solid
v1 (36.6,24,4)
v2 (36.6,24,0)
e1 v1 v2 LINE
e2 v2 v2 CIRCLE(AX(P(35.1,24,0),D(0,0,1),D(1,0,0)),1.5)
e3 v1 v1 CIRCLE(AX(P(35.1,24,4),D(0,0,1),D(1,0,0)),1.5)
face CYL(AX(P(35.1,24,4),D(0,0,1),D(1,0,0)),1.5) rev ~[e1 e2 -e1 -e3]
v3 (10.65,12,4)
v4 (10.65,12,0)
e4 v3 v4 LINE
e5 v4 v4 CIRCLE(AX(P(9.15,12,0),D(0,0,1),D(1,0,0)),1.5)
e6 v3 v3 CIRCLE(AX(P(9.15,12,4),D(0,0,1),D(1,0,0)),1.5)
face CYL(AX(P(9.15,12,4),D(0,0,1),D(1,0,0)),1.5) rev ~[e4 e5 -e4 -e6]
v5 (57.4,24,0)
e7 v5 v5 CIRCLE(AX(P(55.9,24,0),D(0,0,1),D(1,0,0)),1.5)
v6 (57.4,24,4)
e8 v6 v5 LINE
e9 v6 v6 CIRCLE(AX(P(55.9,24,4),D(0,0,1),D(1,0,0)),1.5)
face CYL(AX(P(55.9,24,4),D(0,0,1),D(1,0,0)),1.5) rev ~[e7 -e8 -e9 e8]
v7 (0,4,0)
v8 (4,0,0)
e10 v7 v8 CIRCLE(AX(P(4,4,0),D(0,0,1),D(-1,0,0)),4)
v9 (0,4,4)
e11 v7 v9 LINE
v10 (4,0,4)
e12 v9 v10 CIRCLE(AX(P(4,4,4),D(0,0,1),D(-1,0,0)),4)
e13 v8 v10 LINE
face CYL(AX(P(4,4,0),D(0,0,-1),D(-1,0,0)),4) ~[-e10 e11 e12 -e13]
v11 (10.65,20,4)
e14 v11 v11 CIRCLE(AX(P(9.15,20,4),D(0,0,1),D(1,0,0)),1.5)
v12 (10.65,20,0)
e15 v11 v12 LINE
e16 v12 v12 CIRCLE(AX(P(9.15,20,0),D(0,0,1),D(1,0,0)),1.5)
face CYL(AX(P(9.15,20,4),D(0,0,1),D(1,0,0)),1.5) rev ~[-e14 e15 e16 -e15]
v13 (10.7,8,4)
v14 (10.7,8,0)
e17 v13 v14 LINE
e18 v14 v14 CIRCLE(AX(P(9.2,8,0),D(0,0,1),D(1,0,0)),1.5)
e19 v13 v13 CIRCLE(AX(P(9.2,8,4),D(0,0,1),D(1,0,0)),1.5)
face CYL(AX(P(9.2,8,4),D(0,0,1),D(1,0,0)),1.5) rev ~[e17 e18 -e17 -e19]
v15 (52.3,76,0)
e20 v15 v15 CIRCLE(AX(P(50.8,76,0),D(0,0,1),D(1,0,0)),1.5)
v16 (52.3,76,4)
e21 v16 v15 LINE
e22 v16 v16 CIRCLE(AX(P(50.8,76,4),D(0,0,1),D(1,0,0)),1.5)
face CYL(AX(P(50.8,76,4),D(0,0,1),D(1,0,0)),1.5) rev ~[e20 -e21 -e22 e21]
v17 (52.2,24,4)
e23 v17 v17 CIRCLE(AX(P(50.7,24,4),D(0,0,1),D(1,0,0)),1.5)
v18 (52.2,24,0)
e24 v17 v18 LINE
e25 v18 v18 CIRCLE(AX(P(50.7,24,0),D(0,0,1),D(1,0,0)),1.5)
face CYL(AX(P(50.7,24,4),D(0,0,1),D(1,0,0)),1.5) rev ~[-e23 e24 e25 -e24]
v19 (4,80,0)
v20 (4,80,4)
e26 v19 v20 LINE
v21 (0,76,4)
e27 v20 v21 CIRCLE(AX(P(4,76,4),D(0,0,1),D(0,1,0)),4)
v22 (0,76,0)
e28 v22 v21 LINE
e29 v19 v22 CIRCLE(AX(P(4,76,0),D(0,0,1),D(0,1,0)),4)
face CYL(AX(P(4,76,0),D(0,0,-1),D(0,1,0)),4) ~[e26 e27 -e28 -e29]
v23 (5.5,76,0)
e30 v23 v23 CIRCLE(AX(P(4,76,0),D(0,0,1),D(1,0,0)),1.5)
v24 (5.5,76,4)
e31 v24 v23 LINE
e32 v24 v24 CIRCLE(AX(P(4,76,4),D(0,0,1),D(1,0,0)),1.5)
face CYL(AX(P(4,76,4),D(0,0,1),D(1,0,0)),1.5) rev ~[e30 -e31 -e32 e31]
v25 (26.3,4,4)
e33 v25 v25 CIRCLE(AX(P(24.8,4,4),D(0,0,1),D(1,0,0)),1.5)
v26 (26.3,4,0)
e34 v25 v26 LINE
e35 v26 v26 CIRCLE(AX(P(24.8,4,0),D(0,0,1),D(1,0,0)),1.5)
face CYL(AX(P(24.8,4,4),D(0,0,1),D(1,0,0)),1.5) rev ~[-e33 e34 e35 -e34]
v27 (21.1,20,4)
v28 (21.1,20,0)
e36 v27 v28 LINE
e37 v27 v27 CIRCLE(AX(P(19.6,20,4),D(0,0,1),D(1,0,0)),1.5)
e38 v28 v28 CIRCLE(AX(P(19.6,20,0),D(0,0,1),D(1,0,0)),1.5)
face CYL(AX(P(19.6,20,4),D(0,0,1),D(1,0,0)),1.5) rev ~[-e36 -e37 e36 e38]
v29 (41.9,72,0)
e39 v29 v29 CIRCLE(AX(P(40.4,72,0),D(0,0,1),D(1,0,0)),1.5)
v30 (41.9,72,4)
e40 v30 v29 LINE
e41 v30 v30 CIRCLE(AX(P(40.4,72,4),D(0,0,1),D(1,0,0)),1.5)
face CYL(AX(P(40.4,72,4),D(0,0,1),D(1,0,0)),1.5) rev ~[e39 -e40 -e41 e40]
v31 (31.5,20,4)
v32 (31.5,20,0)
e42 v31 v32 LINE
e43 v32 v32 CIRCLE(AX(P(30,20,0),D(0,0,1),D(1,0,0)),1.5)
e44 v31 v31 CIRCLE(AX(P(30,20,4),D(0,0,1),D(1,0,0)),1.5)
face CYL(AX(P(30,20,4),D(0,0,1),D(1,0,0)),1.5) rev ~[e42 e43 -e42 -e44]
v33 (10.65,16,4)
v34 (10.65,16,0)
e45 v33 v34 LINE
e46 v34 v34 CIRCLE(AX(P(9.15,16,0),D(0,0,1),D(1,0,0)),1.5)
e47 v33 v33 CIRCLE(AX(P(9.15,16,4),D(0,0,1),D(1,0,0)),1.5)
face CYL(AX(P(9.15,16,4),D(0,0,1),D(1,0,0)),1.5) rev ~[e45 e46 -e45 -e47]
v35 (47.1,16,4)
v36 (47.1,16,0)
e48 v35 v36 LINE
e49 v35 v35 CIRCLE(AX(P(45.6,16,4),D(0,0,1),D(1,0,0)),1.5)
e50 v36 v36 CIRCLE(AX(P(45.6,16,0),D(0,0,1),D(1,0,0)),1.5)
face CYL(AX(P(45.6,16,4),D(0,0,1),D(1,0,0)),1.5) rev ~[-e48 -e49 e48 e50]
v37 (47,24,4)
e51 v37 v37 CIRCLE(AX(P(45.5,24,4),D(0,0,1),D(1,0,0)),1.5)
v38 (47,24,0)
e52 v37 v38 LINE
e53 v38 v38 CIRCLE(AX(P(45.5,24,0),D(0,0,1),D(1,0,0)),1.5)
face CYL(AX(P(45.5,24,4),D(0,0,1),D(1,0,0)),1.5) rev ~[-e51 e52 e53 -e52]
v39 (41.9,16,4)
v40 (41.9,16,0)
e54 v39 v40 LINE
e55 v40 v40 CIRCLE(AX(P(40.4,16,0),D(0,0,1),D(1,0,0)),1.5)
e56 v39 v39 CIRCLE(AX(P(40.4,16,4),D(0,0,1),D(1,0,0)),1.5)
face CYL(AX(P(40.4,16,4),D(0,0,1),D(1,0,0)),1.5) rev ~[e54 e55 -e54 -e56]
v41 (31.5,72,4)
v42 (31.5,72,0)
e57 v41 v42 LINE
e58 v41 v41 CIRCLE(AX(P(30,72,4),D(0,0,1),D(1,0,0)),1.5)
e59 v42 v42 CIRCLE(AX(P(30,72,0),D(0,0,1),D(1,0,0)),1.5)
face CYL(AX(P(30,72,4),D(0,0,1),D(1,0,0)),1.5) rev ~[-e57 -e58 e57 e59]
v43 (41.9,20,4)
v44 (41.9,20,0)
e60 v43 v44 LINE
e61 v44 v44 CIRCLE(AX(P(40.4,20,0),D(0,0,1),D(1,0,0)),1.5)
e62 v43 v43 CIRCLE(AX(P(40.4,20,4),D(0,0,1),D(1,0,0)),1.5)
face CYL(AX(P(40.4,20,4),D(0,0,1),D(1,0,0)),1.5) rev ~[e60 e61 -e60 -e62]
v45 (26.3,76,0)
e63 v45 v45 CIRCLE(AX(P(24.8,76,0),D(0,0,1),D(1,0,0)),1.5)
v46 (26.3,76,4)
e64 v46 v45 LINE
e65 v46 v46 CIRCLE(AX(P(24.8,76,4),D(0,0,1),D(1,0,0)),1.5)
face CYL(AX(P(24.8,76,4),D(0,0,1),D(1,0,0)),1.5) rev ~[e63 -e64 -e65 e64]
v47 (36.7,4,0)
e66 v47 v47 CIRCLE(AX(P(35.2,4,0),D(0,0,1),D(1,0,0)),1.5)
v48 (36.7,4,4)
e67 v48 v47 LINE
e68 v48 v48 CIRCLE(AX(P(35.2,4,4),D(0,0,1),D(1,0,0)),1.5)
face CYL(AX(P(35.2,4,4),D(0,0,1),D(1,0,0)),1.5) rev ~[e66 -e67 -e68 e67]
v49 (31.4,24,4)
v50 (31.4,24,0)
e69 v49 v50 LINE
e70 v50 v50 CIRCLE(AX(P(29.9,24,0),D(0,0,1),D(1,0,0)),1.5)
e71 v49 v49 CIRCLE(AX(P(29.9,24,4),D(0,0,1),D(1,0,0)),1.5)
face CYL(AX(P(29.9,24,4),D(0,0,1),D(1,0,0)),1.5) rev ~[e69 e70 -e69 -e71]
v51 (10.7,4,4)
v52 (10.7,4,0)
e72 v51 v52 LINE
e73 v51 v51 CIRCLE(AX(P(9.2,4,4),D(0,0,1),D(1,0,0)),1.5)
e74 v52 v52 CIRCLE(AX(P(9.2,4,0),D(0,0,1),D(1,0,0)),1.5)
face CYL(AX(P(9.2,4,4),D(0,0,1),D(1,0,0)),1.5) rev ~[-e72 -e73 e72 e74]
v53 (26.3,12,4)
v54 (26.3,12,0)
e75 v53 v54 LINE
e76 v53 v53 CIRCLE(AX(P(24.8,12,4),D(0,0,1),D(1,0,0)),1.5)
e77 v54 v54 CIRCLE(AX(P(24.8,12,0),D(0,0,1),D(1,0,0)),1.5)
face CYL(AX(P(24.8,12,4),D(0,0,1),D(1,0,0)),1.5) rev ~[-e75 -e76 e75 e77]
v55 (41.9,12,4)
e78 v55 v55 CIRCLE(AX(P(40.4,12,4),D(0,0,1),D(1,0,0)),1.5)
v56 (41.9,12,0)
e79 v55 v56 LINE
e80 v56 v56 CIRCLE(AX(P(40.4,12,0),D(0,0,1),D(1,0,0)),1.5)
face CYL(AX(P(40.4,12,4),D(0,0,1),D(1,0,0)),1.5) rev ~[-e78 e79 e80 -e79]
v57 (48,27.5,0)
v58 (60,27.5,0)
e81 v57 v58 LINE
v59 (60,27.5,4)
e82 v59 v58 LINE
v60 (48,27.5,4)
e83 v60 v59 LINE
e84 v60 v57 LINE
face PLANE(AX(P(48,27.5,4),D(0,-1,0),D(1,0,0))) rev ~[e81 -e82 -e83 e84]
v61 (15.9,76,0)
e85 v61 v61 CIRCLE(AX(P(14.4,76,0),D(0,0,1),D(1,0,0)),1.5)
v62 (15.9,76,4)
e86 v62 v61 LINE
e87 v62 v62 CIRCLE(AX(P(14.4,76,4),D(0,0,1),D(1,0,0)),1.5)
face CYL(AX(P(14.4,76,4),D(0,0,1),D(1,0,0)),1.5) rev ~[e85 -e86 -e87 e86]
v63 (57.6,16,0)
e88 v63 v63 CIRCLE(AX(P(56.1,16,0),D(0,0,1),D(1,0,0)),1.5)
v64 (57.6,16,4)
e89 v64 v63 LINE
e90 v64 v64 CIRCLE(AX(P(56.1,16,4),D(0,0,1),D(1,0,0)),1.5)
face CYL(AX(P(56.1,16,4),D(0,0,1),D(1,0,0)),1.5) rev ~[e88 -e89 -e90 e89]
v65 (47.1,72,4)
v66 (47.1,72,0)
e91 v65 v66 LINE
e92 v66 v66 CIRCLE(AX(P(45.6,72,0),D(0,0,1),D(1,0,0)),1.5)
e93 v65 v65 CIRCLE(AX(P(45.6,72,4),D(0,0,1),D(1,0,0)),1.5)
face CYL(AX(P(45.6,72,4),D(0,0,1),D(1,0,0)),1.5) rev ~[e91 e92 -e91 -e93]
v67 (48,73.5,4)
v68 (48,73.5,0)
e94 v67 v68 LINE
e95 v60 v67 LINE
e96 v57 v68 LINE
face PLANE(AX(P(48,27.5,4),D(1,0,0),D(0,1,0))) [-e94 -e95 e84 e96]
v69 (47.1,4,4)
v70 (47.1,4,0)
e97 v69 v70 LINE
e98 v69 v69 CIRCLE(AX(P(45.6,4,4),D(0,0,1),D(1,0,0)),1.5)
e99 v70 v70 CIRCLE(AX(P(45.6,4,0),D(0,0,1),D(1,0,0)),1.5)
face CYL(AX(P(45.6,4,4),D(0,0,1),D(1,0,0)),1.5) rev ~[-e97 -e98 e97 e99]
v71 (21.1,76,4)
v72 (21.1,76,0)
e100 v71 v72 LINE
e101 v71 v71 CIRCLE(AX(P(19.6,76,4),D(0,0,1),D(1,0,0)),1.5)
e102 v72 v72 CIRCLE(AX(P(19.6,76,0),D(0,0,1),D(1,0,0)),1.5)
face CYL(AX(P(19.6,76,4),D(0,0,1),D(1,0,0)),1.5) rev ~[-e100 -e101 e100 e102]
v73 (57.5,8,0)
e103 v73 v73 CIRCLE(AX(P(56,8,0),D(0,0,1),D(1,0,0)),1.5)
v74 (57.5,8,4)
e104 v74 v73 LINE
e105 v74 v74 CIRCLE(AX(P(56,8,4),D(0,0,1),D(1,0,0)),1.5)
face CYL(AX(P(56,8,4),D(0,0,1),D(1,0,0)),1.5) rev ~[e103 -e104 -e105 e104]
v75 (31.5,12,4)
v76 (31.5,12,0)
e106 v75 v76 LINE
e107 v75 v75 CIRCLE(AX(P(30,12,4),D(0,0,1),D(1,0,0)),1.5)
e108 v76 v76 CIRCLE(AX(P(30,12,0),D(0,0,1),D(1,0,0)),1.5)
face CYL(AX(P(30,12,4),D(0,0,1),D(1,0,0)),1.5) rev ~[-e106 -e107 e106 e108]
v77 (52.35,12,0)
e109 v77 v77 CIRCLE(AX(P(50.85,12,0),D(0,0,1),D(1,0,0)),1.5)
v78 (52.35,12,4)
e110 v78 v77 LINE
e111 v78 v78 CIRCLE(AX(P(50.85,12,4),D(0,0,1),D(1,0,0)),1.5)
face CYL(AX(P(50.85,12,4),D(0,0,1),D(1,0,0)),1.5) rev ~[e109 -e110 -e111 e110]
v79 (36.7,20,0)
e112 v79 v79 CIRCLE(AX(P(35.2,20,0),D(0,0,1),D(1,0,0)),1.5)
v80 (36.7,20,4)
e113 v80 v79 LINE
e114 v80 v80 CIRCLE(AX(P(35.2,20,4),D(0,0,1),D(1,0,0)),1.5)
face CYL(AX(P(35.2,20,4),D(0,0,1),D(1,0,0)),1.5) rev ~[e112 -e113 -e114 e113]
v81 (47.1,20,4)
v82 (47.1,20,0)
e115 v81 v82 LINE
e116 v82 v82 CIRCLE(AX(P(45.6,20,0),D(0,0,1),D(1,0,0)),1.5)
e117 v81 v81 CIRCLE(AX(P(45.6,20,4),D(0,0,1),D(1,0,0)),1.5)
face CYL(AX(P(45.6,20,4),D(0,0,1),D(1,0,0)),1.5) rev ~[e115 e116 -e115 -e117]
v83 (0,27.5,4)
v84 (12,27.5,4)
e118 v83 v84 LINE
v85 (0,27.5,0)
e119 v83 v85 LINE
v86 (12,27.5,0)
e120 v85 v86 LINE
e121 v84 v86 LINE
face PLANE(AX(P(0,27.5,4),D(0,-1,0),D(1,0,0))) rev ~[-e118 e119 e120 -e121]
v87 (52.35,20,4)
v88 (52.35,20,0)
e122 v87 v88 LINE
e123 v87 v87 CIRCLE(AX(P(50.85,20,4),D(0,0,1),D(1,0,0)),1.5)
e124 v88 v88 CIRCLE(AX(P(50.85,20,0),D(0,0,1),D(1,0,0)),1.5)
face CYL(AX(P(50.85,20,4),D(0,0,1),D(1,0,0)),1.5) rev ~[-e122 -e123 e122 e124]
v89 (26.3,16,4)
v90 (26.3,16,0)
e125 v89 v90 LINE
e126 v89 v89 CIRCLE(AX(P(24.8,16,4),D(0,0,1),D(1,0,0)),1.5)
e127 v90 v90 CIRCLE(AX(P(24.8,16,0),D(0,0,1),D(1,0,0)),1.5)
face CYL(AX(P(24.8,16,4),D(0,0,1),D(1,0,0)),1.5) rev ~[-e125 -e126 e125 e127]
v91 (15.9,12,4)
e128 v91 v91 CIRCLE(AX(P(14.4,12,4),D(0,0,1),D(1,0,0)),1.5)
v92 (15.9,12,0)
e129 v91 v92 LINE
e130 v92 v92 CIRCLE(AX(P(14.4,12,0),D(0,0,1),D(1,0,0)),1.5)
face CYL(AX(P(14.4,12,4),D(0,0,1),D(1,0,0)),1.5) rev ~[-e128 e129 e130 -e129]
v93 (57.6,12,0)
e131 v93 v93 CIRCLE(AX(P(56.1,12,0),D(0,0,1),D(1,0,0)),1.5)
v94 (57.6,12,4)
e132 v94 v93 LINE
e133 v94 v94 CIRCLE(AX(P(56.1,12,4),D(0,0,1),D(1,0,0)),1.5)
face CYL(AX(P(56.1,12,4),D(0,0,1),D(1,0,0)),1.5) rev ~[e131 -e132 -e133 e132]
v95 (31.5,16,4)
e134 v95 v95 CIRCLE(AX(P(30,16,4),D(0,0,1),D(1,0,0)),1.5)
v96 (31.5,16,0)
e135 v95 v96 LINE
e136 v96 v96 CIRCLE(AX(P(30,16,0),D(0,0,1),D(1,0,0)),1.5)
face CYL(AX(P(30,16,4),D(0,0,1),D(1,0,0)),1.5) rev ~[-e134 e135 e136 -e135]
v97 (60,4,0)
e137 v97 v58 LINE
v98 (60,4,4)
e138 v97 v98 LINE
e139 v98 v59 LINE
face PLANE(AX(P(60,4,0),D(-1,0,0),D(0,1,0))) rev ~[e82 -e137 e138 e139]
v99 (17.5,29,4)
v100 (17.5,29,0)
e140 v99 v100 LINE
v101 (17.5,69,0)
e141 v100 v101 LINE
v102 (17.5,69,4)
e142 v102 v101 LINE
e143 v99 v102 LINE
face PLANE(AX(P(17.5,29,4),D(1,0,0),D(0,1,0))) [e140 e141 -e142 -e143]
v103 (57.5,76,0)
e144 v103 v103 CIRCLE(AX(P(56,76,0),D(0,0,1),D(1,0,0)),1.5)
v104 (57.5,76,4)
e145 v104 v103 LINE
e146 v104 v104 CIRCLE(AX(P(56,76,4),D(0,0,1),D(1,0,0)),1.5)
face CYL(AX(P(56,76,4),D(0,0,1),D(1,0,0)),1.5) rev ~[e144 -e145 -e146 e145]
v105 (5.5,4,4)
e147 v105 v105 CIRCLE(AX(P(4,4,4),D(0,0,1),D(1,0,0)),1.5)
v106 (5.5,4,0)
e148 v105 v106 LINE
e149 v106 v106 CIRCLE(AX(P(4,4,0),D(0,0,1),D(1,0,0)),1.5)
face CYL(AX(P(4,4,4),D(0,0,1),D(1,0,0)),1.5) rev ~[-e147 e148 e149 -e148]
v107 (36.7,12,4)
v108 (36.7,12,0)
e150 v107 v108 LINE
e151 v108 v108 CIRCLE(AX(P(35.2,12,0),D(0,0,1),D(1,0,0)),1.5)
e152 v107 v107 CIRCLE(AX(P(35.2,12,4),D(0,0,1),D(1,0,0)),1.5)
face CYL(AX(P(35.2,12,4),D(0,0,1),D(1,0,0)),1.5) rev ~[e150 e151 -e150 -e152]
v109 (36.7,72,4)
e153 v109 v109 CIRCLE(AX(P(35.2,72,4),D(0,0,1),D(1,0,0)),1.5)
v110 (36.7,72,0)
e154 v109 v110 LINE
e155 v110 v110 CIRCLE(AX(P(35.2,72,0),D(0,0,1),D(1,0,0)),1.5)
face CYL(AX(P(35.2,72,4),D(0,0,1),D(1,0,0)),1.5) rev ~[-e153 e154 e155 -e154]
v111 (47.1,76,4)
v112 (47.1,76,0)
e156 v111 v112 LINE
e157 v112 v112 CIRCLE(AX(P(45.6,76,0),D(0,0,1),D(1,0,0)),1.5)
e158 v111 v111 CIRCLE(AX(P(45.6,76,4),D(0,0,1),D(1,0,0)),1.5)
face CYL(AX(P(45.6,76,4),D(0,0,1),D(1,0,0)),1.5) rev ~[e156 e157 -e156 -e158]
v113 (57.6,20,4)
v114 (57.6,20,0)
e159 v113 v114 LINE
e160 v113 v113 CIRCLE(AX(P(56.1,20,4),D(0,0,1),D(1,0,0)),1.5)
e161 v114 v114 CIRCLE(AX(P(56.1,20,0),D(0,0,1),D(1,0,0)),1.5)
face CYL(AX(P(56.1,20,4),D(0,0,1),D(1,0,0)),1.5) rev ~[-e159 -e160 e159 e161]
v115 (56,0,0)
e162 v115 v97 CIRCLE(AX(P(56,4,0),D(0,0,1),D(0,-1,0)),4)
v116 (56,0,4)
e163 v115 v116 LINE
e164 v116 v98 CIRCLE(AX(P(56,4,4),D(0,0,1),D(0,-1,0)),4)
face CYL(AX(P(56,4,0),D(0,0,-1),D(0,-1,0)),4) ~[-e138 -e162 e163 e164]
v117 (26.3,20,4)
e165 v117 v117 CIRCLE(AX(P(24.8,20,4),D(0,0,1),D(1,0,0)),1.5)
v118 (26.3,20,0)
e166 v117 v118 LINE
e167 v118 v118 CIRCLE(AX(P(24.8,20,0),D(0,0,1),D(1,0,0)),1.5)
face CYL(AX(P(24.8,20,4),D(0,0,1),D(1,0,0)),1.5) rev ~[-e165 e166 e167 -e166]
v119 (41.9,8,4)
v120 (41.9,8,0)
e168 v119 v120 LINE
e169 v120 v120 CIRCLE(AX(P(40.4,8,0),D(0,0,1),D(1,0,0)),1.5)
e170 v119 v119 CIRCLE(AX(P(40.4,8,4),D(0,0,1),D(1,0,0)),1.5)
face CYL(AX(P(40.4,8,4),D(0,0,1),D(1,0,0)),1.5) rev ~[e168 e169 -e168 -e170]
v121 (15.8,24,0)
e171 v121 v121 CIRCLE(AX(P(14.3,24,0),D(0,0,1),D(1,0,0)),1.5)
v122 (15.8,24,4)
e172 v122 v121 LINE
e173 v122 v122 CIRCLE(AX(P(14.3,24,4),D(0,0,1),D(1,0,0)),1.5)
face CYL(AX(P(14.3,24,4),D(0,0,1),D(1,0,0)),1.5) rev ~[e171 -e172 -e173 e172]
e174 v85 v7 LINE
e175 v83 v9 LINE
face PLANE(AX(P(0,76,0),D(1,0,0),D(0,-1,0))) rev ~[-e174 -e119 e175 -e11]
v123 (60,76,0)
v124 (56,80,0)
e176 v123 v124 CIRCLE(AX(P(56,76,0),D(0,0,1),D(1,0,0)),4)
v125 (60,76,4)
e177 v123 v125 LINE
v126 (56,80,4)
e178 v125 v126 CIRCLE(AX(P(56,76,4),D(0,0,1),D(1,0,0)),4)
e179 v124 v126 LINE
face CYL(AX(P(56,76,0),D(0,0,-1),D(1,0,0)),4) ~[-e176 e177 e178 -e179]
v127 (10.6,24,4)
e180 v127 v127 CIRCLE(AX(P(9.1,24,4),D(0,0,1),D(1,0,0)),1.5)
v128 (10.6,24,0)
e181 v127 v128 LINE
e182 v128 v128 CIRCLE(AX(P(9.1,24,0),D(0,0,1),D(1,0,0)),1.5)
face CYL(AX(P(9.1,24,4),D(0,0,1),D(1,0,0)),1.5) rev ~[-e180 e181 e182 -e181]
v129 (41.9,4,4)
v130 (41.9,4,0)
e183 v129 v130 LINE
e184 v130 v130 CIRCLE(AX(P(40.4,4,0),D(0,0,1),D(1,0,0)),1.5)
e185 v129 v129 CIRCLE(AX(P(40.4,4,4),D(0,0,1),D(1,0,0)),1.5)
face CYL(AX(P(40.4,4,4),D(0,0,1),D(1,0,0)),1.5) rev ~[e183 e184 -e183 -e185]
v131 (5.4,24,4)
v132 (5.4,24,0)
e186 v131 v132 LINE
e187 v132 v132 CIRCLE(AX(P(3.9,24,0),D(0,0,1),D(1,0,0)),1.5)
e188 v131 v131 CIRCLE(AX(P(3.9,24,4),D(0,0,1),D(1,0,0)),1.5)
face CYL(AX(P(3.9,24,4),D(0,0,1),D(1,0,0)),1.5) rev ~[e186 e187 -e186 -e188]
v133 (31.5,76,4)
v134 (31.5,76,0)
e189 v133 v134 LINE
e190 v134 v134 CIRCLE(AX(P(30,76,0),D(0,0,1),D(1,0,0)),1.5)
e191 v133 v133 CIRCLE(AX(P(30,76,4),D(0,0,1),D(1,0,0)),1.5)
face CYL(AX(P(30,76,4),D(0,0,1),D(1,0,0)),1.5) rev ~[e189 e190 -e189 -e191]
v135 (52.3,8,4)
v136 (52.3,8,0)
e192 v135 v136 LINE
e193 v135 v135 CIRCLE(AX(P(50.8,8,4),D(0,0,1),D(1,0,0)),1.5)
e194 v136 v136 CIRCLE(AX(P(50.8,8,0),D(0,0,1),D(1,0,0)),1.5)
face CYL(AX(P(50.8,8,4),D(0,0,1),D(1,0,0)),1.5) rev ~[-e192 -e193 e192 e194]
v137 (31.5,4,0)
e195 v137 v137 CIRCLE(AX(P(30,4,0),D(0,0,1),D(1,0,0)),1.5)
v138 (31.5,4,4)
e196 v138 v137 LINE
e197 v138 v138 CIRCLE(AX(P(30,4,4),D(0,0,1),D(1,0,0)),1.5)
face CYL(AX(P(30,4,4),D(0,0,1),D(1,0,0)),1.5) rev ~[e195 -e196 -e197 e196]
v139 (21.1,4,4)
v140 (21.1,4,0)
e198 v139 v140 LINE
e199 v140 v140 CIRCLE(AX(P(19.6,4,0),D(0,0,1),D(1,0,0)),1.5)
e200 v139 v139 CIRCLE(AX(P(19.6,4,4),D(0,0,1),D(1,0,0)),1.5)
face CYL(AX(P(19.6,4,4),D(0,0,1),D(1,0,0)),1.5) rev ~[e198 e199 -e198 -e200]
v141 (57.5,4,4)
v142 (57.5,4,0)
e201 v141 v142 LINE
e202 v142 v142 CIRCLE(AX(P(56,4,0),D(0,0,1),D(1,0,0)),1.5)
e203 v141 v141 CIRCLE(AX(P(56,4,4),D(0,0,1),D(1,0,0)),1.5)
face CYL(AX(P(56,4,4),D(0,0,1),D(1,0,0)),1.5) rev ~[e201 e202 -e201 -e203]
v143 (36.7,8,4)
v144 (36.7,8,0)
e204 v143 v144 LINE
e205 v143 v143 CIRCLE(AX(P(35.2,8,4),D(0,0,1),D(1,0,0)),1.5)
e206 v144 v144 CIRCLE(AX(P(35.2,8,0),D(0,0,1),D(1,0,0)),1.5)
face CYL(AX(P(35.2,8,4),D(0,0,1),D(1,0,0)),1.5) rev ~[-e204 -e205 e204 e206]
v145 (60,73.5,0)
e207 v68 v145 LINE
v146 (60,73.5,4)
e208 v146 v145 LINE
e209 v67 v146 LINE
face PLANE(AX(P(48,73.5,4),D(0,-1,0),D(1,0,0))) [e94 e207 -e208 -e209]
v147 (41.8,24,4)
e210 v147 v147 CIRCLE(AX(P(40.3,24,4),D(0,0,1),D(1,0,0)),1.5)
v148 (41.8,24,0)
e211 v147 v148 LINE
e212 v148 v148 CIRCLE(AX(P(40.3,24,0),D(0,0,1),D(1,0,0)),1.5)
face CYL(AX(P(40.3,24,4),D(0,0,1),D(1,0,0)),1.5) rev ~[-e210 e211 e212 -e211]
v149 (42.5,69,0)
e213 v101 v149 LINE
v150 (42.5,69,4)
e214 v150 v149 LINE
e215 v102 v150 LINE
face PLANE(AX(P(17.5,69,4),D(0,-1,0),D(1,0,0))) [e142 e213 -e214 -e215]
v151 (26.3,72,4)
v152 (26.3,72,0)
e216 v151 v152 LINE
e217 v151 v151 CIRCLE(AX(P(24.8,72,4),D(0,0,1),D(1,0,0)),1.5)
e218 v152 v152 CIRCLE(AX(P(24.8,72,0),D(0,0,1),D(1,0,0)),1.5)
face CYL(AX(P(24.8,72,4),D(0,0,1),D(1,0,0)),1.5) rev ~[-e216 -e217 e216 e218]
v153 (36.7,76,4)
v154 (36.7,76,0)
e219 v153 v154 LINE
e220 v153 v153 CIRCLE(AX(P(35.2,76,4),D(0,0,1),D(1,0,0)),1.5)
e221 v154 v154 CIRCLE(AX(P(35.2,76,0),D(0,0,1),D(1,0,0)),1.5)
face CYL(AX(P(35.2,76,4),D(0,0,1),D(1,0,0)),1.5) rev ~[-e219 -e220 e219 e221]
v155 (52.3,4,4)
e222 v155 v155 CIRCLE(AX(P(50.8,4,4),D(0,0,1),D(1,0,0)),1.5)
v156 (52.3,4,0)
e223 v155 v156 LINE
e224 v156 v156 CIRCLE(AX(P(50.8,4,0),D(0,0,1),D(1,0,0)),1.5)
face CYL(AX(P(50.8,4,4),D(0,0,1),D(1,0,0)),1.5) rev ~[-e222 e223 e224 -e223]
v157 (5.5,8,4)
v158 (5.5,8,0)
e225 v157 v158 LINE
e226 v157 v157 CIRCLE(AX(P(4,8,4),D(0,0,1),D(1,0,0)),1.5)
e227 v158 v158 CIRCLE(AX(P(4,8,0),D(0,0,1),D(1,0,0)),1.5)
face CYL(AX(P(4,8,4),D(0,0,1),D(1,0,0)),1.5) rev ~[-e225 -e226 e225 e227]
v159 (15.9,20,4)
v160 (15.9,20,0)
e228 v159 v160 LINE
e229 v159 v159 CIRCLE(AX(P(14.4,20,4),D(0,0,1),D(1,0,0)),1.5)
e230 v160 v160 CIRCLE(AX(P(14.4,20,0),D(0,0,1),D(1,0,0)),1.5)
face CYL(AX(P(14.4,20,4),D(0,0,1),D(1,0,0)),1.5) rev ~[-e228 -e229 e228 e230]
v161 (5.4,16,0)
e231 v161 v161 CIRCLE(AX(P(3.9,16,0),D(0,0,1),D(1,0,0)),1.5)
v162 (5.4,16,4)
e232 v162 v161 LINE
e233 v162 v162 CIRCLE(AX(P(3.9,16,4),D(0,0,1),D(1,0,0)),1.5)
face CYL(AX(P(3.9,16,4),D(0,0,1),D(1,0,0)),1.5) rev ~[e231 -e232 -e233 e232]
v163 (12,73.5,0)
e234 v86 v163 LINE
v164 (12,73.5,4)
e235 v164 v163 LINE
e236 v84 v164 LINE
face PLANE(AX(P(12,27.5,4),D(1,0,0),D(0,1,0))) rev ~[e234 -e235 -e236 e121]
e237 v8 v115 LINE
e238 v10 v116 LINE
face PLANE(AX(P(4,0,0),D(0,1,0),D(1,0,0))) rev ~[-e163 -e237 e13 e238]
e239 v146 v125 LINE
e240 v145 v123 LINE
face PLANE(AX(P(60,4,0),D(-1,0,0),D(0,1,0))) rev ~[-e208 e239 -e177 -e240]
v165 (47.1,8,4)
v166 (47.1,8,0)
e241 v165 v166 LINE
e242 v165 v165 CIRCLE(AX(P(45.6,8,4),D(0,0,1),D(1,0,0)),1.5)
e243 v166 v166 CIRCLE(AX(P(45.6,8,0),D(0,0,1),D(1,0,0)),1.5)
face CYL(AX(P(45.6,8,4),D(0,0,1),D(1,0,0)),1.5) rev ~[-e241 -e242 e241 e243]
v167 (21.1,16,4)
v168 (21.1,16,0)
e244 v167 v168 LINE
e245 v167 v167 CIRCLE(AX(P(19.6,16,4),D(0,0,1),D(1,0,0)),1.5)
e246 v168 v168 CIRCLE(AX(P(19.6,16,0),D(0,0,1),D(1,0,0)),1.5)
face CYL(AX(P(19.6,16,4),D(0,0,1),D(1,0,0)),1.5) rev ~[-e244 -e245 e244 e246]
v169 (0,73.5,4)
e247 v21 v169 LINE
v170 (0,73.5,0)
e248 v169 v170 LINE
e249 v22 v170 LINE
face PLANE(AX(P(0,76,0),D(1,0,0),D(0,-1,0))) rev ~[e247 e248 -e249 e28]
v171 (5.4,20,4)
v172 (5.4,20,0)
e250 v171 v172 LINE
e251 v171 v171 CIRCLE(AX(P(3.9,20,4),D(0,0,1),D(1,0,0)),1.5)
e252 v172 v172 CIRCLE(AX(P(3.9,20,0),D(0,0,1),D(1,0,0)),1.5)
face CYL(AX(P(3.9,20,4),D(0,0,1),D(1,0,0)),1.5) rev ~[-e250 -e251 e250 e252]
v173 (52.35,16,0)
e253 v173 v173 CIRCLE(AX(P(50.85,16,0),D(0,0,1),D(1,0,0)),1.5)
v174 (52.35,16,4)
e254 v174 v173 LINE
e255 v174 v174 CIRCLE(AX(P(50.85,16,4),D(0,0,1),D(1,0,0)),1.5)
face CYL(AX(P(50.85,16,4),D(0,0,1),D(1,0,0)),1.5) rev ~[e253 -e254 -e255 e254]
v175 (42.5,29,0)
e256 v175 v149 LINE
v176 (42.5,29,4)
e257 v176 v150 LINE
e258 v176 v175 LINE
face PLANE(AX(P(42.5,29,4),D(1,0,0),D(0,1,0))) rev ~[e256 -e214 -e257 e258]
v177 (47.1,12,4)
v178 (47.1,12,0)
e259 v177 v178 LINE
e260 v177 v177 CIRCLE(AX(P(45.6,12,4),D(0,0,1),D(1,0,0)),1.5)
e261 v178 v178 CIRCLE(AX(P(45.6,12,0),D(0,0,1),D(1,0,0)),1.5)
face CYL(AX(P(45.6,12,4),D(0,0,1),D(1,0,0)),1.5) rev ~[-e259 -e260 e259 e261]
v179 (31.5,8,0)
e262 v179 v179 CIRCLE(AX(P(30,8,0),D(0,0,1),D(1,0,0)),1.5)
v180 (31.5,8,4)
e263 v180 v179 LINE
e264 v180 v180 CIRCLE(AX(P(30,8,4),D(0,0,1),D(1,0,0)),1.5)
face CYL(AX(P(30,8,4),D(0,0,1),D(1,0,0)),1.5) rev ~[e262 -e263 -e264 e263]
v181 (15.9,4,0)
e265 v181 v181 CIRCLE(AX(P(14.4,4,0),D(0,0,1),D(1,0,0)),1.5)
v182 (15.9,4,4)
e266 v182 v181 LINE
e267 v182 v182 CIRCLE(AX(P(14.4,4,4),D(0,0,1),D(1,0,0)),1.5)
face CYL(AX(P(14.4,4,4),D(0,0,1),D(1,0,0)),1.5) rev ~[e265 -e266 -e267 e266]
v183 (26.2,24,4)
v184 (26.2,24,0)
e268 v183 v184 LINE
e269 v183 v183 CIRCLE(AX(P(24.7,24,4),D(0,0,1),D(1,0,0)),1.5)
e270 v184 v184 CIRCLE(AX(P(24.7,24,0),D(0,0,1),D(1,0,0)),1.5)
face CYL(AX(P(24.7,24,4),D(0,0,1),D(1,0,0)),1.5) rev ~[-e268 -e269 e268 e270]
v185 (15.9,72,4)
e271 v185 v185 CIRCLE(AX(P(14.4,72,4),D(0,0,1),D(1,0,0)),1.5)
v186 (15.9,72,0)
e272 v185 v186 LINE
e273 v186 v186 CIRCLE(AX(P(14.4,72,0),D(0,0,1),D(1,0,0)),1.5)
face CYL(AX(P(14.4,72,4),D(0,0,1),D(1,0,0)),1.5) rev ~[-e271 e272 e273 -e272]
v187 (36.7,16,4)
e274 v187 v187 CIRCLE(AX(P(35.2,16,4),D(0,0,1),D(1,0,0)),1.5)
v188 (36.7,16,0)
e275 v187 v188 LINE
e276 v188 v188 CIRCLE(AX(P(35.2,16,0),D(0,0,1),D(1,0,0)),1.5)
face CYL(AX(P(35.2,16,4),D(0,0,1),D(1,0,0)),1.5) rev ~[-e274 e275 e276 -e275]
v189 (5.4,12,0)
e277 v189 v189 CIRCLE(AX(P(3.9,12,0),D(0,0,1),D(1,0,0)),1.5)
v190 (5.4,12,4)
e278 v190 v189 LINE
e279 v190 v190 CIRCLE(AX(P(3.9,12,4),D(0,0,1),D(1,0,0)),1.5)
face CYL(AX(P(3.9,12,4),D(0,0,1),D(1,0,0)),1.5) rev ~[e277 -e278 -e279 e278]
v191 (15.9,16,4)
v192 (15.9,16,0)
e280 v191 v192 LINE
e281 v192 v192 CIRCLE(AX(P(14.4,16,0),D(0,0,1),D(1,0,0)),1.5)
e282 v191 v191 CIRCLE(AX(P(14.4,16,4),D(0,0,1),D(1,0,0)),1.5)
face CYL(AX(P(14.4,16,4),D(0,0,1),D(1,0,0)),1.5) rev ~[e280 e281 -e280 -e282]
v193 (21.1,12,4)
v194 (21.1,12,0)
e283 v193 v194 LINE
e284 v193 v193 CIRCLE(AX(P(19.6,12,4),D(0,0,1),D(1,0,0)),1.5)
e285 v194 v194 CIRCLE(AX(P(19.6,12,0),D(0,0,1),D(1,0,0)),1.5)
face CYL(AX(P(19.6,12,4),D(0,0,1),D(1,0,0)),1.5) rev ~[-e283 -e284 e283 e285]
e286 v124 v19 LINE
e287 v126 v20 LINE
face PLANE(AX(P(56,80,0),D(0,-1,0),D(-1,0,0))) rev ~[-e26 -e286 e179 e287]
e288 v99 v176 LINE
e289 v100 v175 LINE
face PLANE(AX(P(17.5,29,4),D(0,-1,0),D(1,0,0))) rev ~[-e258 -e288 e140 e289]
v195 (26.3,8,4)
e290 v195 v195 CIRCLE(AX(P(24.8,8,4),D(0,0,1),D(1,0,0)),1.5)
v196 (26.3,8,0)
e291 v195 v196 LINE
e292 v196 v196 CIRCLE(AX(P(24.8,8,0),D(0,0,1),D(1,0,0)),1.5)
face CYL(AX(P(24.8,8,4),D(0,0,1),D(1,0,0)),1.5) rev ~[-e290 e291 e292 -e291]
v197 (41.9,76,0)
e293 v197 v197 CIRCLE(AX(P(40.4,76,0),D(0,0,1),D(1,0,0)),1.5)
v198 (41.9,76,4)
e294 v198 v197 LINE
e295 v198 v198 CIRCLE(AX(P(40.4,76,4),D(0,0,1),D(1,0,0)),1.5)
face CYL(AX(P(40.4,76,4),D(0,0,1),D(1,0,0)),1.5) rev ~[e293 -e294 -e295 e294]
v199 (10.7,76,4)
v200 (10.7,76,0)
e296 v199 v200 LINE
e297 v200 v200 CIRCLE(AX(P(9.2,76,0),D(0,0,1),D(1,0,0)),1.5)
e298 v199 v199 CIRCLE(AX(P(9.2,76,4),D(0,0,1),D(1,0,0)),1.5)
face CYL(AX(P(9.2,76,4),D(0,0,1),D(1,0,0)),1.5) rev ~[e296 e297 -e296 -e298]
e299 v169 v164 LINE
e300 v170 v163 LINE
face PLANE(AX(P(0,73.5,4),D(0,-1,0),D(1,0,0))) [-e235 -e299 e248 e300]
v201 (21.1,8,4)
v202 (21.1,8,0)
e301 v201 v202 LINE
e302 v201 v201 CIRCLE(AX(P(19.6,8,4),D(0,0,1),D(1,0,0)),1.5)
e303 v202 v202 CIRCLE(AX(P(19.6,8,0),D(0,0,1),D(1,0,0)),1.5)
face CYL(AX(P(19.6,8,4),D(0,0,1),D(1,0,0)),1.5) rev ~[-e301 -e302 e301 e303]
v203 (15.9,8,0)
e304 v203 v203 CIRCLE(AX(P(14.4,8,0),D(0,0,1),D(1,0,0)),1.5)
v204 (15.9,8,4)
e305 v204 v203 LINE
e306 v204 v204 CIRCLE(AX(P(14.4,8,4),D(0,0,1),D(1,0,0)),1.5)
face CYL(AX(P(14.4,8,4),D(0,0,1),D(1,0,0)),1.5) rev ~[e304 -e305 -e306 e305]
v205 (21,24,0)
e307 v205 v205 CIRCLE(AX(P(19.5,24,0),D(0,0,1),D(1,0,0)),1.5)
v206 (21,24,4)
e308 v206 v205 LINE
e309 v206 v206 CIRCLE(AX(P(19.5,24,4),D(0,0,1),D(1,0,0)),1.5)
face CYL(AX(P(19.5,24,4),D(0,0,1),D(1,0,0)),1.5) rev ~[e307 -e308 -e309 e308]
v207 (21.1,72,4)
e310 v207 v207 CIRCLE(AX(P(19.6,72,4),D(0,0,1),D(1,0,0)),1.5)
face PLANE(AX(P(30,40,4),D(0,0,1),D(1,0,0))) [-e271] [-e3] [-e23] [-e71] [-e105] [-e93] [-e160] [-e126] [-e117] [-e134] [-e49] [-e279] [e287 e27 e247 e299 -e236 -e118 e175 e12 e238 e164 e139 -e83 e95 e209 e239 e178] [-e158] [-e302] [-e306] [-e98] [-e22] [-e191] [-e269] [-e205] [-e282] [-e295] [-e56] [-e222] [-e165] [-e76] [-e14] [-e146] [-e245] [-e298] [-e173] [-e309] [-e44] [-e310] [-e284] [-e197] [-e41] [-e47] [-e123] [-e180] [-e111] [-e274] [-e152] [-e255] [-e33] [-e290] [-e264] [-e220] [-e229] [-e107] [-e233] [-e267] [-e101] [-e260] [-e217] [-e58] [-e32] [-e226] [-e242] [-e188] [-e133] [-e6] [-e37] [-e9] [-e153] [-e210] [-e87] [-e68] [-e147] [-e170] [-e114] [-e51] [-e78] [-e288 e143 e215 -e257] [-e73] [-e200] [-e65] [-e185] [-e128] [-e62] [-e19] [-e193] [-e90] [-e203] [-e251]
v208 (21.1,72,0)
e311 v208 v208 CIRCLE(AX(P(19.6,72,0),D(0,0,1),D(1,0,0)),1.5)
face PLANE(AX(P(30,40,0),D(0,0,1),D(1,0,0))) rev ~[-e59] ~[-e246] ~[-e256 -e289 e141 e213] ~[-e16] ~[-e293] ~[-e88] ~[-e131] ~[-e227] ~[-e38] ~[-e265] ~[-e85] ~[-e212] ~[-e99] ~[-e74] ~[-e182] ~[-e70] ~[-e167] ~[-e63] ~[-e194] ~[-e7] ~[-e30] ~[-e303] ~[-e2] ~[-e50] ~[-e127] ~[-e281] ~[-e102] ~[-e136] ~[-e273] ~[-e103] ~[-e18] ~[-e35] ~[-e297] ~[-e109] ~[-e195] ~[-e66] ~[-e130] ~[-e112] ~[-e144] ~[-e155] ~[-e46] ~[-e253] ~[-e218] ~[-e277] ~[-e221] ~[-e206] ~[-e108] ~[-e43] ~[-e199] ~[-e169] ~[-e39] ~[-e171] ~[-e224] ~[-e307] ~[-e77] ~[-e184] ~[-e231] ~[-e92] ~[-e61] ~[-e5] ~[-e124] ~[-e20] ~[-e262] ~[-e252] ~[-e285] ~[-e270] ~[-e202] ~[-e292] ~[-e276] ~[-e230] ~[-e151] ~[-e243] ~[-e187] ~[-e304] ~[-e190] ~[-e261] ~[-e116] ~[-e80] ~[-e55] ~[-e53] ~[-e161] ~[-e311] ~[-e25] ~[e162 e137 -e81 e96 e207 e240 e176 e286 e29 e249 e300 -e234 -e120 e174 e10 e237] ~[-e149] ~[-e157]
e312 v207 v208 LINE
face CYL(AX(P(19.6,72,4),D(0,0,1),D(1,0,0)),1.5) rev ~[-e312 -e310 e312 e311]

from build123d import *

# Parameters (mm, degrees)
EXTRUDE_1_DEPTH     = 4
SKETCH_3_R          = 1.5
CUT_EXTRUDE_2_DEPTH = 4
SKETCH_5_W          = 12
SKETCH_5_H          = 46
CUT_EXTRUDE_3_DEPTH = 10
SKETCH_6_W          = 25
SKETCH_6_H          = 40
CUT_EXTRUDE_4_DEPTH = 10


with BuildPart() as part:
    # Эскиз1 → Бобышка-Вытянуть1 (new body)
    with BuildSketch(Plane.XY):
        with BuildLine():
            Line((4, 0), (56, 0))
            ThreePointArc((56, 0), (58.828427125, 1.171572875), (60, 4))
            Line((60, 4), (60, 76))
            ThreePointArc((60, 76), (58.828427125, 78.828427125), (56, 80))
            Line((56, 80), (4, 80))
            ThreePointArc((4, 80), (1.171572875, 78.828427125), (0, 76))
            Line((0, 76), (0, 4))
            ThreePointArc((0, 4), (1.171572875, 1.171572875), (4, 0))
        make_face()
    extrude(amount=EXTRUDE_1_DEPTH)

    # Эскиз3 → Вырез-Вытянуть2 (cut)
    with BuildSketch(Plane.XY.offset(4)):
        with Locations((4, 76)):
            Circle(SKETCH_3_R)
        with Locations((9.2, 76)):
            Circle(SKETCH_3_R)
        with Locations((14.4, 76)):
            Circle(SKETCH_3_R)
        with Locations((19.6, 76)):
            Circle(SKETCH_3_R)
        with Locations((24.8, 76)):
            Circle(SKETCH_3_R)
        with Locations((30, 76)):
            Circle(SKETCH_3_R)
        with Locations((35.2, 76)):
            Circle(SKETCH_3_R)
        with Locations((40.4, 76)):
            Circle(SKETCH_3_R)
        with Locations((45.6, 76)):
            Circle(SKETCH_3_R)
        with Locations((50.8, 76)):
            Circle(SKETCH_3_R)
        with Locations((56, 76)):
            Circle(SKETCH_3_R)
        with Locations((14.4, 72)):
            Circle(SKETCH_3_R)
        with Locations((19.6, 72)):
            Circle(SKETCH_3_R)
        with Locations((24.8, 72)):
            Circle(SKETCH_3_R)
        with Locations((30, 72)):
            Circle(SKETCH_3_R)
        with Locations((35.2, 72)):
            Circle(SKETCH_3_R)
        with Locations((40.4, 72)):
            Circle(SKETCH_3_R)
        with Locations((45.6, 72)):
            Circle(SKETCH_3_R)
        with Locations((14.4, 20)):
            Circle(SKETCH_3_R)
        with Locations((19.6, 20)):
            Circle(SKETCH_3_R)
        with Locations((24.8, 20)):
            Circle(SKETCH_3_R)
        with Locations((30, 20)):
            Circle(SKETCH_3_R)
        with Locations((35.2, 20)):
            Circle(SKETCH_3_R)
        with Locations((40.4, 20)):
            Circle(SKETCH_3_R)
        with Locations((45.6, 20)):
            Circle(SKETCH_3_R)
        with Locations((14.4, 16)):
            Circle(SKETCH_3_R)
        with Locations((19.6, 16)):
            Circle(SKETCH_3_R)
        with Locations((24.8, 16)):
            Circle(SKETCH_3_R)
        with Locations((30, 16)):
            Circle(SKETCH_3_R)
        with Locations((35.2, 16)):
            Circle(SKETCH_3_R)
        with Locations((40.4, 16)):
            Circle(SKETCH_3_R)
        with Locations((45.6, 16)):
            Circle(SKETCH_3_R)
        with Locations((14.4, 12)):
            Circle(SKETCH_3_R)
        with Locations((19.6, 12)):
            Circle(SKETCH_3_R)
        with Locations((24.8, 12)):
            Circle(SKETCH_3_R)
        with Locations((30, 12)):
            Circle(SKETCH_3_R)
        with Locations((35.2, 12)):
            Circle(SKETCH_3_R)
        with Locations((40.4, 12)):
            Circle(SKETCH_3_R)
        with Locations((45.6, 12)):
            Circle(SKETCH_3_R)
        with Locations((4, 8)):
            Circle(SKETCH_3_R)
        with Locations((9.2, 8)):
            Circle(SKETCH_3_R)
        with Locations((14.4, 8)):
            Circle(SKETCH_3_R)
        with Locations((19.6, 8)):
            Circle(SKETCH_3_R)
        with Locations((24.8, 8)):
            Circle(SKETCH_3_R)
        with Locations((30, 8)):
            Circle(SKETCH_3_R)
        with Locations((35.2, 8)):
            Circle(SKETCH_3_R)
        with Locations((40.4, 8)):
            Circle(SKETCH_3_R)
        with Locations((45.6, 8)):
            Circle(SKETCH_3_R)
        with Locations((50.8, 8)):
            Circle(SKETCH_3_R)
        with Locations((56, 8)):
            Circle(SKETCH_3_R)
        with Locations((4, 4)):
            Circle(SKETCH_3_R)
        with Locations((9.2, 4)):
            Circle(SKETCH_3_R)
        with Locations((14.4, 4)):
            Circle(SKETCH_3_R)
        with Locations((19.6, 4)):
            Circle(SKETCH_3_R)
        with Locations((24.8, 4)):
            Circle(SKETCH_3_R)
        with Locations((30, 4)):
            Circle(SKETCH_3_R)
        with Locations((35.2, 4)):
            Circle(SKETCH_3_R)
        with Locations((40.4, 4)):
            Circle(SKETCH_3_R)
        with Locations((45.6, 4)):
            Circle(SKETCH_3_R)
        with Locations((50.8, 4)):
            Circle(SKETCH_3_R)
        with Locations((56, 4)):
            Circle(SKETCH_3_R)
        with Locations((50.85, 20)):
            Circle(SKETCH_3_R)
        with Locations((50.85, 16)):
            Circle(SKETCH_3_R)
        with Locations((50.85, 12)):
            Circle(SKETCH_3_R)
        with Locations((56.1, 20)):
            Circle(SKETCH_3_R)
        with Locations((56.1, 16)):
            Circle(SKETCH_3_R)
        with Locations((56.1, 12)):
            Circle(SKETCH_3_R)
        with Locations((3.9, 20)):
            Circle(SKETCH_3_R)
        with Locations((3.9, 16)):
            Circle(SKETCH_3_R)
        with Locations((3.9, 12)):
            Circle(SKETCH_3_R)
        with Locations((9.15, 12)):
            Circle(SKETCH_3_R)
        with Locations((9.15, 16)):
            Circle(SKETCH_3_R)
        with Locations((9.15, 20)):
            Circle(SKETCH_3_R)
        with Locations((3.9, 24)):
            Circle(SKETCH_3_R)
        with Locations((9.1, 24)):
            Circle(SKETCH_3_R)
        with Locations((14.3, 24)):
            Circle(SKETCH_3_R)
        with Locations((19.5, 24)):
            Circle(SKETCH_3_R)
        with Locations((24.7, 24)):
            Circle(SKETCH_3_R)
        with Locations((29.9, 24)):
            Circle(SKETCH_3_R)
        with Locations((35.1, 24)):
            Circle(SKETCH_3_R)
        with Locations((40.3, 24)):
            Circle(SKETCH_3_R)
        with Locations((45.5, 24)):
            Circle(SKETCH_3_R)
        with Locations((50.7, 24)):
            Circle(SKETCH_3_R)
        with Locations((55.9, 24)):
            Circle(SKETCH_3_R)
    extrude(amount=-CUT_EXTRUDE_2_DEPTH, mode=Mode.SUBTRACT)

    # Эскиз5 → Вырез-Вытянуть3 (cut)
    with BuildSketch(Plane.XY.offset(4)):
        with Locations((6, 50.5)):
            Rectangle(SKETCH_5_W, SKETCH_5_H)
        with Locations((54, 50.5)):
            Rectangle(SKETCH_5_W, SKETCH_5_H)
    extrude(amount=-CUT_EXTRUDE_3_DEPTH, mode=Mode.SUBTRACT)

    # Эскиз6 → Вырез-Вытянуть4 (cut)
    with BuildSketch(Plane.XY.offset(4)):
        with Locations((30, 49)):
            Rectangle(SKETCH_6_W, SKETCH_6_H)
    extrude(amount=-CUT_EXTRUDE_4_DEPTH, mode=Mode.SUBTRACT)


solid = part.part
